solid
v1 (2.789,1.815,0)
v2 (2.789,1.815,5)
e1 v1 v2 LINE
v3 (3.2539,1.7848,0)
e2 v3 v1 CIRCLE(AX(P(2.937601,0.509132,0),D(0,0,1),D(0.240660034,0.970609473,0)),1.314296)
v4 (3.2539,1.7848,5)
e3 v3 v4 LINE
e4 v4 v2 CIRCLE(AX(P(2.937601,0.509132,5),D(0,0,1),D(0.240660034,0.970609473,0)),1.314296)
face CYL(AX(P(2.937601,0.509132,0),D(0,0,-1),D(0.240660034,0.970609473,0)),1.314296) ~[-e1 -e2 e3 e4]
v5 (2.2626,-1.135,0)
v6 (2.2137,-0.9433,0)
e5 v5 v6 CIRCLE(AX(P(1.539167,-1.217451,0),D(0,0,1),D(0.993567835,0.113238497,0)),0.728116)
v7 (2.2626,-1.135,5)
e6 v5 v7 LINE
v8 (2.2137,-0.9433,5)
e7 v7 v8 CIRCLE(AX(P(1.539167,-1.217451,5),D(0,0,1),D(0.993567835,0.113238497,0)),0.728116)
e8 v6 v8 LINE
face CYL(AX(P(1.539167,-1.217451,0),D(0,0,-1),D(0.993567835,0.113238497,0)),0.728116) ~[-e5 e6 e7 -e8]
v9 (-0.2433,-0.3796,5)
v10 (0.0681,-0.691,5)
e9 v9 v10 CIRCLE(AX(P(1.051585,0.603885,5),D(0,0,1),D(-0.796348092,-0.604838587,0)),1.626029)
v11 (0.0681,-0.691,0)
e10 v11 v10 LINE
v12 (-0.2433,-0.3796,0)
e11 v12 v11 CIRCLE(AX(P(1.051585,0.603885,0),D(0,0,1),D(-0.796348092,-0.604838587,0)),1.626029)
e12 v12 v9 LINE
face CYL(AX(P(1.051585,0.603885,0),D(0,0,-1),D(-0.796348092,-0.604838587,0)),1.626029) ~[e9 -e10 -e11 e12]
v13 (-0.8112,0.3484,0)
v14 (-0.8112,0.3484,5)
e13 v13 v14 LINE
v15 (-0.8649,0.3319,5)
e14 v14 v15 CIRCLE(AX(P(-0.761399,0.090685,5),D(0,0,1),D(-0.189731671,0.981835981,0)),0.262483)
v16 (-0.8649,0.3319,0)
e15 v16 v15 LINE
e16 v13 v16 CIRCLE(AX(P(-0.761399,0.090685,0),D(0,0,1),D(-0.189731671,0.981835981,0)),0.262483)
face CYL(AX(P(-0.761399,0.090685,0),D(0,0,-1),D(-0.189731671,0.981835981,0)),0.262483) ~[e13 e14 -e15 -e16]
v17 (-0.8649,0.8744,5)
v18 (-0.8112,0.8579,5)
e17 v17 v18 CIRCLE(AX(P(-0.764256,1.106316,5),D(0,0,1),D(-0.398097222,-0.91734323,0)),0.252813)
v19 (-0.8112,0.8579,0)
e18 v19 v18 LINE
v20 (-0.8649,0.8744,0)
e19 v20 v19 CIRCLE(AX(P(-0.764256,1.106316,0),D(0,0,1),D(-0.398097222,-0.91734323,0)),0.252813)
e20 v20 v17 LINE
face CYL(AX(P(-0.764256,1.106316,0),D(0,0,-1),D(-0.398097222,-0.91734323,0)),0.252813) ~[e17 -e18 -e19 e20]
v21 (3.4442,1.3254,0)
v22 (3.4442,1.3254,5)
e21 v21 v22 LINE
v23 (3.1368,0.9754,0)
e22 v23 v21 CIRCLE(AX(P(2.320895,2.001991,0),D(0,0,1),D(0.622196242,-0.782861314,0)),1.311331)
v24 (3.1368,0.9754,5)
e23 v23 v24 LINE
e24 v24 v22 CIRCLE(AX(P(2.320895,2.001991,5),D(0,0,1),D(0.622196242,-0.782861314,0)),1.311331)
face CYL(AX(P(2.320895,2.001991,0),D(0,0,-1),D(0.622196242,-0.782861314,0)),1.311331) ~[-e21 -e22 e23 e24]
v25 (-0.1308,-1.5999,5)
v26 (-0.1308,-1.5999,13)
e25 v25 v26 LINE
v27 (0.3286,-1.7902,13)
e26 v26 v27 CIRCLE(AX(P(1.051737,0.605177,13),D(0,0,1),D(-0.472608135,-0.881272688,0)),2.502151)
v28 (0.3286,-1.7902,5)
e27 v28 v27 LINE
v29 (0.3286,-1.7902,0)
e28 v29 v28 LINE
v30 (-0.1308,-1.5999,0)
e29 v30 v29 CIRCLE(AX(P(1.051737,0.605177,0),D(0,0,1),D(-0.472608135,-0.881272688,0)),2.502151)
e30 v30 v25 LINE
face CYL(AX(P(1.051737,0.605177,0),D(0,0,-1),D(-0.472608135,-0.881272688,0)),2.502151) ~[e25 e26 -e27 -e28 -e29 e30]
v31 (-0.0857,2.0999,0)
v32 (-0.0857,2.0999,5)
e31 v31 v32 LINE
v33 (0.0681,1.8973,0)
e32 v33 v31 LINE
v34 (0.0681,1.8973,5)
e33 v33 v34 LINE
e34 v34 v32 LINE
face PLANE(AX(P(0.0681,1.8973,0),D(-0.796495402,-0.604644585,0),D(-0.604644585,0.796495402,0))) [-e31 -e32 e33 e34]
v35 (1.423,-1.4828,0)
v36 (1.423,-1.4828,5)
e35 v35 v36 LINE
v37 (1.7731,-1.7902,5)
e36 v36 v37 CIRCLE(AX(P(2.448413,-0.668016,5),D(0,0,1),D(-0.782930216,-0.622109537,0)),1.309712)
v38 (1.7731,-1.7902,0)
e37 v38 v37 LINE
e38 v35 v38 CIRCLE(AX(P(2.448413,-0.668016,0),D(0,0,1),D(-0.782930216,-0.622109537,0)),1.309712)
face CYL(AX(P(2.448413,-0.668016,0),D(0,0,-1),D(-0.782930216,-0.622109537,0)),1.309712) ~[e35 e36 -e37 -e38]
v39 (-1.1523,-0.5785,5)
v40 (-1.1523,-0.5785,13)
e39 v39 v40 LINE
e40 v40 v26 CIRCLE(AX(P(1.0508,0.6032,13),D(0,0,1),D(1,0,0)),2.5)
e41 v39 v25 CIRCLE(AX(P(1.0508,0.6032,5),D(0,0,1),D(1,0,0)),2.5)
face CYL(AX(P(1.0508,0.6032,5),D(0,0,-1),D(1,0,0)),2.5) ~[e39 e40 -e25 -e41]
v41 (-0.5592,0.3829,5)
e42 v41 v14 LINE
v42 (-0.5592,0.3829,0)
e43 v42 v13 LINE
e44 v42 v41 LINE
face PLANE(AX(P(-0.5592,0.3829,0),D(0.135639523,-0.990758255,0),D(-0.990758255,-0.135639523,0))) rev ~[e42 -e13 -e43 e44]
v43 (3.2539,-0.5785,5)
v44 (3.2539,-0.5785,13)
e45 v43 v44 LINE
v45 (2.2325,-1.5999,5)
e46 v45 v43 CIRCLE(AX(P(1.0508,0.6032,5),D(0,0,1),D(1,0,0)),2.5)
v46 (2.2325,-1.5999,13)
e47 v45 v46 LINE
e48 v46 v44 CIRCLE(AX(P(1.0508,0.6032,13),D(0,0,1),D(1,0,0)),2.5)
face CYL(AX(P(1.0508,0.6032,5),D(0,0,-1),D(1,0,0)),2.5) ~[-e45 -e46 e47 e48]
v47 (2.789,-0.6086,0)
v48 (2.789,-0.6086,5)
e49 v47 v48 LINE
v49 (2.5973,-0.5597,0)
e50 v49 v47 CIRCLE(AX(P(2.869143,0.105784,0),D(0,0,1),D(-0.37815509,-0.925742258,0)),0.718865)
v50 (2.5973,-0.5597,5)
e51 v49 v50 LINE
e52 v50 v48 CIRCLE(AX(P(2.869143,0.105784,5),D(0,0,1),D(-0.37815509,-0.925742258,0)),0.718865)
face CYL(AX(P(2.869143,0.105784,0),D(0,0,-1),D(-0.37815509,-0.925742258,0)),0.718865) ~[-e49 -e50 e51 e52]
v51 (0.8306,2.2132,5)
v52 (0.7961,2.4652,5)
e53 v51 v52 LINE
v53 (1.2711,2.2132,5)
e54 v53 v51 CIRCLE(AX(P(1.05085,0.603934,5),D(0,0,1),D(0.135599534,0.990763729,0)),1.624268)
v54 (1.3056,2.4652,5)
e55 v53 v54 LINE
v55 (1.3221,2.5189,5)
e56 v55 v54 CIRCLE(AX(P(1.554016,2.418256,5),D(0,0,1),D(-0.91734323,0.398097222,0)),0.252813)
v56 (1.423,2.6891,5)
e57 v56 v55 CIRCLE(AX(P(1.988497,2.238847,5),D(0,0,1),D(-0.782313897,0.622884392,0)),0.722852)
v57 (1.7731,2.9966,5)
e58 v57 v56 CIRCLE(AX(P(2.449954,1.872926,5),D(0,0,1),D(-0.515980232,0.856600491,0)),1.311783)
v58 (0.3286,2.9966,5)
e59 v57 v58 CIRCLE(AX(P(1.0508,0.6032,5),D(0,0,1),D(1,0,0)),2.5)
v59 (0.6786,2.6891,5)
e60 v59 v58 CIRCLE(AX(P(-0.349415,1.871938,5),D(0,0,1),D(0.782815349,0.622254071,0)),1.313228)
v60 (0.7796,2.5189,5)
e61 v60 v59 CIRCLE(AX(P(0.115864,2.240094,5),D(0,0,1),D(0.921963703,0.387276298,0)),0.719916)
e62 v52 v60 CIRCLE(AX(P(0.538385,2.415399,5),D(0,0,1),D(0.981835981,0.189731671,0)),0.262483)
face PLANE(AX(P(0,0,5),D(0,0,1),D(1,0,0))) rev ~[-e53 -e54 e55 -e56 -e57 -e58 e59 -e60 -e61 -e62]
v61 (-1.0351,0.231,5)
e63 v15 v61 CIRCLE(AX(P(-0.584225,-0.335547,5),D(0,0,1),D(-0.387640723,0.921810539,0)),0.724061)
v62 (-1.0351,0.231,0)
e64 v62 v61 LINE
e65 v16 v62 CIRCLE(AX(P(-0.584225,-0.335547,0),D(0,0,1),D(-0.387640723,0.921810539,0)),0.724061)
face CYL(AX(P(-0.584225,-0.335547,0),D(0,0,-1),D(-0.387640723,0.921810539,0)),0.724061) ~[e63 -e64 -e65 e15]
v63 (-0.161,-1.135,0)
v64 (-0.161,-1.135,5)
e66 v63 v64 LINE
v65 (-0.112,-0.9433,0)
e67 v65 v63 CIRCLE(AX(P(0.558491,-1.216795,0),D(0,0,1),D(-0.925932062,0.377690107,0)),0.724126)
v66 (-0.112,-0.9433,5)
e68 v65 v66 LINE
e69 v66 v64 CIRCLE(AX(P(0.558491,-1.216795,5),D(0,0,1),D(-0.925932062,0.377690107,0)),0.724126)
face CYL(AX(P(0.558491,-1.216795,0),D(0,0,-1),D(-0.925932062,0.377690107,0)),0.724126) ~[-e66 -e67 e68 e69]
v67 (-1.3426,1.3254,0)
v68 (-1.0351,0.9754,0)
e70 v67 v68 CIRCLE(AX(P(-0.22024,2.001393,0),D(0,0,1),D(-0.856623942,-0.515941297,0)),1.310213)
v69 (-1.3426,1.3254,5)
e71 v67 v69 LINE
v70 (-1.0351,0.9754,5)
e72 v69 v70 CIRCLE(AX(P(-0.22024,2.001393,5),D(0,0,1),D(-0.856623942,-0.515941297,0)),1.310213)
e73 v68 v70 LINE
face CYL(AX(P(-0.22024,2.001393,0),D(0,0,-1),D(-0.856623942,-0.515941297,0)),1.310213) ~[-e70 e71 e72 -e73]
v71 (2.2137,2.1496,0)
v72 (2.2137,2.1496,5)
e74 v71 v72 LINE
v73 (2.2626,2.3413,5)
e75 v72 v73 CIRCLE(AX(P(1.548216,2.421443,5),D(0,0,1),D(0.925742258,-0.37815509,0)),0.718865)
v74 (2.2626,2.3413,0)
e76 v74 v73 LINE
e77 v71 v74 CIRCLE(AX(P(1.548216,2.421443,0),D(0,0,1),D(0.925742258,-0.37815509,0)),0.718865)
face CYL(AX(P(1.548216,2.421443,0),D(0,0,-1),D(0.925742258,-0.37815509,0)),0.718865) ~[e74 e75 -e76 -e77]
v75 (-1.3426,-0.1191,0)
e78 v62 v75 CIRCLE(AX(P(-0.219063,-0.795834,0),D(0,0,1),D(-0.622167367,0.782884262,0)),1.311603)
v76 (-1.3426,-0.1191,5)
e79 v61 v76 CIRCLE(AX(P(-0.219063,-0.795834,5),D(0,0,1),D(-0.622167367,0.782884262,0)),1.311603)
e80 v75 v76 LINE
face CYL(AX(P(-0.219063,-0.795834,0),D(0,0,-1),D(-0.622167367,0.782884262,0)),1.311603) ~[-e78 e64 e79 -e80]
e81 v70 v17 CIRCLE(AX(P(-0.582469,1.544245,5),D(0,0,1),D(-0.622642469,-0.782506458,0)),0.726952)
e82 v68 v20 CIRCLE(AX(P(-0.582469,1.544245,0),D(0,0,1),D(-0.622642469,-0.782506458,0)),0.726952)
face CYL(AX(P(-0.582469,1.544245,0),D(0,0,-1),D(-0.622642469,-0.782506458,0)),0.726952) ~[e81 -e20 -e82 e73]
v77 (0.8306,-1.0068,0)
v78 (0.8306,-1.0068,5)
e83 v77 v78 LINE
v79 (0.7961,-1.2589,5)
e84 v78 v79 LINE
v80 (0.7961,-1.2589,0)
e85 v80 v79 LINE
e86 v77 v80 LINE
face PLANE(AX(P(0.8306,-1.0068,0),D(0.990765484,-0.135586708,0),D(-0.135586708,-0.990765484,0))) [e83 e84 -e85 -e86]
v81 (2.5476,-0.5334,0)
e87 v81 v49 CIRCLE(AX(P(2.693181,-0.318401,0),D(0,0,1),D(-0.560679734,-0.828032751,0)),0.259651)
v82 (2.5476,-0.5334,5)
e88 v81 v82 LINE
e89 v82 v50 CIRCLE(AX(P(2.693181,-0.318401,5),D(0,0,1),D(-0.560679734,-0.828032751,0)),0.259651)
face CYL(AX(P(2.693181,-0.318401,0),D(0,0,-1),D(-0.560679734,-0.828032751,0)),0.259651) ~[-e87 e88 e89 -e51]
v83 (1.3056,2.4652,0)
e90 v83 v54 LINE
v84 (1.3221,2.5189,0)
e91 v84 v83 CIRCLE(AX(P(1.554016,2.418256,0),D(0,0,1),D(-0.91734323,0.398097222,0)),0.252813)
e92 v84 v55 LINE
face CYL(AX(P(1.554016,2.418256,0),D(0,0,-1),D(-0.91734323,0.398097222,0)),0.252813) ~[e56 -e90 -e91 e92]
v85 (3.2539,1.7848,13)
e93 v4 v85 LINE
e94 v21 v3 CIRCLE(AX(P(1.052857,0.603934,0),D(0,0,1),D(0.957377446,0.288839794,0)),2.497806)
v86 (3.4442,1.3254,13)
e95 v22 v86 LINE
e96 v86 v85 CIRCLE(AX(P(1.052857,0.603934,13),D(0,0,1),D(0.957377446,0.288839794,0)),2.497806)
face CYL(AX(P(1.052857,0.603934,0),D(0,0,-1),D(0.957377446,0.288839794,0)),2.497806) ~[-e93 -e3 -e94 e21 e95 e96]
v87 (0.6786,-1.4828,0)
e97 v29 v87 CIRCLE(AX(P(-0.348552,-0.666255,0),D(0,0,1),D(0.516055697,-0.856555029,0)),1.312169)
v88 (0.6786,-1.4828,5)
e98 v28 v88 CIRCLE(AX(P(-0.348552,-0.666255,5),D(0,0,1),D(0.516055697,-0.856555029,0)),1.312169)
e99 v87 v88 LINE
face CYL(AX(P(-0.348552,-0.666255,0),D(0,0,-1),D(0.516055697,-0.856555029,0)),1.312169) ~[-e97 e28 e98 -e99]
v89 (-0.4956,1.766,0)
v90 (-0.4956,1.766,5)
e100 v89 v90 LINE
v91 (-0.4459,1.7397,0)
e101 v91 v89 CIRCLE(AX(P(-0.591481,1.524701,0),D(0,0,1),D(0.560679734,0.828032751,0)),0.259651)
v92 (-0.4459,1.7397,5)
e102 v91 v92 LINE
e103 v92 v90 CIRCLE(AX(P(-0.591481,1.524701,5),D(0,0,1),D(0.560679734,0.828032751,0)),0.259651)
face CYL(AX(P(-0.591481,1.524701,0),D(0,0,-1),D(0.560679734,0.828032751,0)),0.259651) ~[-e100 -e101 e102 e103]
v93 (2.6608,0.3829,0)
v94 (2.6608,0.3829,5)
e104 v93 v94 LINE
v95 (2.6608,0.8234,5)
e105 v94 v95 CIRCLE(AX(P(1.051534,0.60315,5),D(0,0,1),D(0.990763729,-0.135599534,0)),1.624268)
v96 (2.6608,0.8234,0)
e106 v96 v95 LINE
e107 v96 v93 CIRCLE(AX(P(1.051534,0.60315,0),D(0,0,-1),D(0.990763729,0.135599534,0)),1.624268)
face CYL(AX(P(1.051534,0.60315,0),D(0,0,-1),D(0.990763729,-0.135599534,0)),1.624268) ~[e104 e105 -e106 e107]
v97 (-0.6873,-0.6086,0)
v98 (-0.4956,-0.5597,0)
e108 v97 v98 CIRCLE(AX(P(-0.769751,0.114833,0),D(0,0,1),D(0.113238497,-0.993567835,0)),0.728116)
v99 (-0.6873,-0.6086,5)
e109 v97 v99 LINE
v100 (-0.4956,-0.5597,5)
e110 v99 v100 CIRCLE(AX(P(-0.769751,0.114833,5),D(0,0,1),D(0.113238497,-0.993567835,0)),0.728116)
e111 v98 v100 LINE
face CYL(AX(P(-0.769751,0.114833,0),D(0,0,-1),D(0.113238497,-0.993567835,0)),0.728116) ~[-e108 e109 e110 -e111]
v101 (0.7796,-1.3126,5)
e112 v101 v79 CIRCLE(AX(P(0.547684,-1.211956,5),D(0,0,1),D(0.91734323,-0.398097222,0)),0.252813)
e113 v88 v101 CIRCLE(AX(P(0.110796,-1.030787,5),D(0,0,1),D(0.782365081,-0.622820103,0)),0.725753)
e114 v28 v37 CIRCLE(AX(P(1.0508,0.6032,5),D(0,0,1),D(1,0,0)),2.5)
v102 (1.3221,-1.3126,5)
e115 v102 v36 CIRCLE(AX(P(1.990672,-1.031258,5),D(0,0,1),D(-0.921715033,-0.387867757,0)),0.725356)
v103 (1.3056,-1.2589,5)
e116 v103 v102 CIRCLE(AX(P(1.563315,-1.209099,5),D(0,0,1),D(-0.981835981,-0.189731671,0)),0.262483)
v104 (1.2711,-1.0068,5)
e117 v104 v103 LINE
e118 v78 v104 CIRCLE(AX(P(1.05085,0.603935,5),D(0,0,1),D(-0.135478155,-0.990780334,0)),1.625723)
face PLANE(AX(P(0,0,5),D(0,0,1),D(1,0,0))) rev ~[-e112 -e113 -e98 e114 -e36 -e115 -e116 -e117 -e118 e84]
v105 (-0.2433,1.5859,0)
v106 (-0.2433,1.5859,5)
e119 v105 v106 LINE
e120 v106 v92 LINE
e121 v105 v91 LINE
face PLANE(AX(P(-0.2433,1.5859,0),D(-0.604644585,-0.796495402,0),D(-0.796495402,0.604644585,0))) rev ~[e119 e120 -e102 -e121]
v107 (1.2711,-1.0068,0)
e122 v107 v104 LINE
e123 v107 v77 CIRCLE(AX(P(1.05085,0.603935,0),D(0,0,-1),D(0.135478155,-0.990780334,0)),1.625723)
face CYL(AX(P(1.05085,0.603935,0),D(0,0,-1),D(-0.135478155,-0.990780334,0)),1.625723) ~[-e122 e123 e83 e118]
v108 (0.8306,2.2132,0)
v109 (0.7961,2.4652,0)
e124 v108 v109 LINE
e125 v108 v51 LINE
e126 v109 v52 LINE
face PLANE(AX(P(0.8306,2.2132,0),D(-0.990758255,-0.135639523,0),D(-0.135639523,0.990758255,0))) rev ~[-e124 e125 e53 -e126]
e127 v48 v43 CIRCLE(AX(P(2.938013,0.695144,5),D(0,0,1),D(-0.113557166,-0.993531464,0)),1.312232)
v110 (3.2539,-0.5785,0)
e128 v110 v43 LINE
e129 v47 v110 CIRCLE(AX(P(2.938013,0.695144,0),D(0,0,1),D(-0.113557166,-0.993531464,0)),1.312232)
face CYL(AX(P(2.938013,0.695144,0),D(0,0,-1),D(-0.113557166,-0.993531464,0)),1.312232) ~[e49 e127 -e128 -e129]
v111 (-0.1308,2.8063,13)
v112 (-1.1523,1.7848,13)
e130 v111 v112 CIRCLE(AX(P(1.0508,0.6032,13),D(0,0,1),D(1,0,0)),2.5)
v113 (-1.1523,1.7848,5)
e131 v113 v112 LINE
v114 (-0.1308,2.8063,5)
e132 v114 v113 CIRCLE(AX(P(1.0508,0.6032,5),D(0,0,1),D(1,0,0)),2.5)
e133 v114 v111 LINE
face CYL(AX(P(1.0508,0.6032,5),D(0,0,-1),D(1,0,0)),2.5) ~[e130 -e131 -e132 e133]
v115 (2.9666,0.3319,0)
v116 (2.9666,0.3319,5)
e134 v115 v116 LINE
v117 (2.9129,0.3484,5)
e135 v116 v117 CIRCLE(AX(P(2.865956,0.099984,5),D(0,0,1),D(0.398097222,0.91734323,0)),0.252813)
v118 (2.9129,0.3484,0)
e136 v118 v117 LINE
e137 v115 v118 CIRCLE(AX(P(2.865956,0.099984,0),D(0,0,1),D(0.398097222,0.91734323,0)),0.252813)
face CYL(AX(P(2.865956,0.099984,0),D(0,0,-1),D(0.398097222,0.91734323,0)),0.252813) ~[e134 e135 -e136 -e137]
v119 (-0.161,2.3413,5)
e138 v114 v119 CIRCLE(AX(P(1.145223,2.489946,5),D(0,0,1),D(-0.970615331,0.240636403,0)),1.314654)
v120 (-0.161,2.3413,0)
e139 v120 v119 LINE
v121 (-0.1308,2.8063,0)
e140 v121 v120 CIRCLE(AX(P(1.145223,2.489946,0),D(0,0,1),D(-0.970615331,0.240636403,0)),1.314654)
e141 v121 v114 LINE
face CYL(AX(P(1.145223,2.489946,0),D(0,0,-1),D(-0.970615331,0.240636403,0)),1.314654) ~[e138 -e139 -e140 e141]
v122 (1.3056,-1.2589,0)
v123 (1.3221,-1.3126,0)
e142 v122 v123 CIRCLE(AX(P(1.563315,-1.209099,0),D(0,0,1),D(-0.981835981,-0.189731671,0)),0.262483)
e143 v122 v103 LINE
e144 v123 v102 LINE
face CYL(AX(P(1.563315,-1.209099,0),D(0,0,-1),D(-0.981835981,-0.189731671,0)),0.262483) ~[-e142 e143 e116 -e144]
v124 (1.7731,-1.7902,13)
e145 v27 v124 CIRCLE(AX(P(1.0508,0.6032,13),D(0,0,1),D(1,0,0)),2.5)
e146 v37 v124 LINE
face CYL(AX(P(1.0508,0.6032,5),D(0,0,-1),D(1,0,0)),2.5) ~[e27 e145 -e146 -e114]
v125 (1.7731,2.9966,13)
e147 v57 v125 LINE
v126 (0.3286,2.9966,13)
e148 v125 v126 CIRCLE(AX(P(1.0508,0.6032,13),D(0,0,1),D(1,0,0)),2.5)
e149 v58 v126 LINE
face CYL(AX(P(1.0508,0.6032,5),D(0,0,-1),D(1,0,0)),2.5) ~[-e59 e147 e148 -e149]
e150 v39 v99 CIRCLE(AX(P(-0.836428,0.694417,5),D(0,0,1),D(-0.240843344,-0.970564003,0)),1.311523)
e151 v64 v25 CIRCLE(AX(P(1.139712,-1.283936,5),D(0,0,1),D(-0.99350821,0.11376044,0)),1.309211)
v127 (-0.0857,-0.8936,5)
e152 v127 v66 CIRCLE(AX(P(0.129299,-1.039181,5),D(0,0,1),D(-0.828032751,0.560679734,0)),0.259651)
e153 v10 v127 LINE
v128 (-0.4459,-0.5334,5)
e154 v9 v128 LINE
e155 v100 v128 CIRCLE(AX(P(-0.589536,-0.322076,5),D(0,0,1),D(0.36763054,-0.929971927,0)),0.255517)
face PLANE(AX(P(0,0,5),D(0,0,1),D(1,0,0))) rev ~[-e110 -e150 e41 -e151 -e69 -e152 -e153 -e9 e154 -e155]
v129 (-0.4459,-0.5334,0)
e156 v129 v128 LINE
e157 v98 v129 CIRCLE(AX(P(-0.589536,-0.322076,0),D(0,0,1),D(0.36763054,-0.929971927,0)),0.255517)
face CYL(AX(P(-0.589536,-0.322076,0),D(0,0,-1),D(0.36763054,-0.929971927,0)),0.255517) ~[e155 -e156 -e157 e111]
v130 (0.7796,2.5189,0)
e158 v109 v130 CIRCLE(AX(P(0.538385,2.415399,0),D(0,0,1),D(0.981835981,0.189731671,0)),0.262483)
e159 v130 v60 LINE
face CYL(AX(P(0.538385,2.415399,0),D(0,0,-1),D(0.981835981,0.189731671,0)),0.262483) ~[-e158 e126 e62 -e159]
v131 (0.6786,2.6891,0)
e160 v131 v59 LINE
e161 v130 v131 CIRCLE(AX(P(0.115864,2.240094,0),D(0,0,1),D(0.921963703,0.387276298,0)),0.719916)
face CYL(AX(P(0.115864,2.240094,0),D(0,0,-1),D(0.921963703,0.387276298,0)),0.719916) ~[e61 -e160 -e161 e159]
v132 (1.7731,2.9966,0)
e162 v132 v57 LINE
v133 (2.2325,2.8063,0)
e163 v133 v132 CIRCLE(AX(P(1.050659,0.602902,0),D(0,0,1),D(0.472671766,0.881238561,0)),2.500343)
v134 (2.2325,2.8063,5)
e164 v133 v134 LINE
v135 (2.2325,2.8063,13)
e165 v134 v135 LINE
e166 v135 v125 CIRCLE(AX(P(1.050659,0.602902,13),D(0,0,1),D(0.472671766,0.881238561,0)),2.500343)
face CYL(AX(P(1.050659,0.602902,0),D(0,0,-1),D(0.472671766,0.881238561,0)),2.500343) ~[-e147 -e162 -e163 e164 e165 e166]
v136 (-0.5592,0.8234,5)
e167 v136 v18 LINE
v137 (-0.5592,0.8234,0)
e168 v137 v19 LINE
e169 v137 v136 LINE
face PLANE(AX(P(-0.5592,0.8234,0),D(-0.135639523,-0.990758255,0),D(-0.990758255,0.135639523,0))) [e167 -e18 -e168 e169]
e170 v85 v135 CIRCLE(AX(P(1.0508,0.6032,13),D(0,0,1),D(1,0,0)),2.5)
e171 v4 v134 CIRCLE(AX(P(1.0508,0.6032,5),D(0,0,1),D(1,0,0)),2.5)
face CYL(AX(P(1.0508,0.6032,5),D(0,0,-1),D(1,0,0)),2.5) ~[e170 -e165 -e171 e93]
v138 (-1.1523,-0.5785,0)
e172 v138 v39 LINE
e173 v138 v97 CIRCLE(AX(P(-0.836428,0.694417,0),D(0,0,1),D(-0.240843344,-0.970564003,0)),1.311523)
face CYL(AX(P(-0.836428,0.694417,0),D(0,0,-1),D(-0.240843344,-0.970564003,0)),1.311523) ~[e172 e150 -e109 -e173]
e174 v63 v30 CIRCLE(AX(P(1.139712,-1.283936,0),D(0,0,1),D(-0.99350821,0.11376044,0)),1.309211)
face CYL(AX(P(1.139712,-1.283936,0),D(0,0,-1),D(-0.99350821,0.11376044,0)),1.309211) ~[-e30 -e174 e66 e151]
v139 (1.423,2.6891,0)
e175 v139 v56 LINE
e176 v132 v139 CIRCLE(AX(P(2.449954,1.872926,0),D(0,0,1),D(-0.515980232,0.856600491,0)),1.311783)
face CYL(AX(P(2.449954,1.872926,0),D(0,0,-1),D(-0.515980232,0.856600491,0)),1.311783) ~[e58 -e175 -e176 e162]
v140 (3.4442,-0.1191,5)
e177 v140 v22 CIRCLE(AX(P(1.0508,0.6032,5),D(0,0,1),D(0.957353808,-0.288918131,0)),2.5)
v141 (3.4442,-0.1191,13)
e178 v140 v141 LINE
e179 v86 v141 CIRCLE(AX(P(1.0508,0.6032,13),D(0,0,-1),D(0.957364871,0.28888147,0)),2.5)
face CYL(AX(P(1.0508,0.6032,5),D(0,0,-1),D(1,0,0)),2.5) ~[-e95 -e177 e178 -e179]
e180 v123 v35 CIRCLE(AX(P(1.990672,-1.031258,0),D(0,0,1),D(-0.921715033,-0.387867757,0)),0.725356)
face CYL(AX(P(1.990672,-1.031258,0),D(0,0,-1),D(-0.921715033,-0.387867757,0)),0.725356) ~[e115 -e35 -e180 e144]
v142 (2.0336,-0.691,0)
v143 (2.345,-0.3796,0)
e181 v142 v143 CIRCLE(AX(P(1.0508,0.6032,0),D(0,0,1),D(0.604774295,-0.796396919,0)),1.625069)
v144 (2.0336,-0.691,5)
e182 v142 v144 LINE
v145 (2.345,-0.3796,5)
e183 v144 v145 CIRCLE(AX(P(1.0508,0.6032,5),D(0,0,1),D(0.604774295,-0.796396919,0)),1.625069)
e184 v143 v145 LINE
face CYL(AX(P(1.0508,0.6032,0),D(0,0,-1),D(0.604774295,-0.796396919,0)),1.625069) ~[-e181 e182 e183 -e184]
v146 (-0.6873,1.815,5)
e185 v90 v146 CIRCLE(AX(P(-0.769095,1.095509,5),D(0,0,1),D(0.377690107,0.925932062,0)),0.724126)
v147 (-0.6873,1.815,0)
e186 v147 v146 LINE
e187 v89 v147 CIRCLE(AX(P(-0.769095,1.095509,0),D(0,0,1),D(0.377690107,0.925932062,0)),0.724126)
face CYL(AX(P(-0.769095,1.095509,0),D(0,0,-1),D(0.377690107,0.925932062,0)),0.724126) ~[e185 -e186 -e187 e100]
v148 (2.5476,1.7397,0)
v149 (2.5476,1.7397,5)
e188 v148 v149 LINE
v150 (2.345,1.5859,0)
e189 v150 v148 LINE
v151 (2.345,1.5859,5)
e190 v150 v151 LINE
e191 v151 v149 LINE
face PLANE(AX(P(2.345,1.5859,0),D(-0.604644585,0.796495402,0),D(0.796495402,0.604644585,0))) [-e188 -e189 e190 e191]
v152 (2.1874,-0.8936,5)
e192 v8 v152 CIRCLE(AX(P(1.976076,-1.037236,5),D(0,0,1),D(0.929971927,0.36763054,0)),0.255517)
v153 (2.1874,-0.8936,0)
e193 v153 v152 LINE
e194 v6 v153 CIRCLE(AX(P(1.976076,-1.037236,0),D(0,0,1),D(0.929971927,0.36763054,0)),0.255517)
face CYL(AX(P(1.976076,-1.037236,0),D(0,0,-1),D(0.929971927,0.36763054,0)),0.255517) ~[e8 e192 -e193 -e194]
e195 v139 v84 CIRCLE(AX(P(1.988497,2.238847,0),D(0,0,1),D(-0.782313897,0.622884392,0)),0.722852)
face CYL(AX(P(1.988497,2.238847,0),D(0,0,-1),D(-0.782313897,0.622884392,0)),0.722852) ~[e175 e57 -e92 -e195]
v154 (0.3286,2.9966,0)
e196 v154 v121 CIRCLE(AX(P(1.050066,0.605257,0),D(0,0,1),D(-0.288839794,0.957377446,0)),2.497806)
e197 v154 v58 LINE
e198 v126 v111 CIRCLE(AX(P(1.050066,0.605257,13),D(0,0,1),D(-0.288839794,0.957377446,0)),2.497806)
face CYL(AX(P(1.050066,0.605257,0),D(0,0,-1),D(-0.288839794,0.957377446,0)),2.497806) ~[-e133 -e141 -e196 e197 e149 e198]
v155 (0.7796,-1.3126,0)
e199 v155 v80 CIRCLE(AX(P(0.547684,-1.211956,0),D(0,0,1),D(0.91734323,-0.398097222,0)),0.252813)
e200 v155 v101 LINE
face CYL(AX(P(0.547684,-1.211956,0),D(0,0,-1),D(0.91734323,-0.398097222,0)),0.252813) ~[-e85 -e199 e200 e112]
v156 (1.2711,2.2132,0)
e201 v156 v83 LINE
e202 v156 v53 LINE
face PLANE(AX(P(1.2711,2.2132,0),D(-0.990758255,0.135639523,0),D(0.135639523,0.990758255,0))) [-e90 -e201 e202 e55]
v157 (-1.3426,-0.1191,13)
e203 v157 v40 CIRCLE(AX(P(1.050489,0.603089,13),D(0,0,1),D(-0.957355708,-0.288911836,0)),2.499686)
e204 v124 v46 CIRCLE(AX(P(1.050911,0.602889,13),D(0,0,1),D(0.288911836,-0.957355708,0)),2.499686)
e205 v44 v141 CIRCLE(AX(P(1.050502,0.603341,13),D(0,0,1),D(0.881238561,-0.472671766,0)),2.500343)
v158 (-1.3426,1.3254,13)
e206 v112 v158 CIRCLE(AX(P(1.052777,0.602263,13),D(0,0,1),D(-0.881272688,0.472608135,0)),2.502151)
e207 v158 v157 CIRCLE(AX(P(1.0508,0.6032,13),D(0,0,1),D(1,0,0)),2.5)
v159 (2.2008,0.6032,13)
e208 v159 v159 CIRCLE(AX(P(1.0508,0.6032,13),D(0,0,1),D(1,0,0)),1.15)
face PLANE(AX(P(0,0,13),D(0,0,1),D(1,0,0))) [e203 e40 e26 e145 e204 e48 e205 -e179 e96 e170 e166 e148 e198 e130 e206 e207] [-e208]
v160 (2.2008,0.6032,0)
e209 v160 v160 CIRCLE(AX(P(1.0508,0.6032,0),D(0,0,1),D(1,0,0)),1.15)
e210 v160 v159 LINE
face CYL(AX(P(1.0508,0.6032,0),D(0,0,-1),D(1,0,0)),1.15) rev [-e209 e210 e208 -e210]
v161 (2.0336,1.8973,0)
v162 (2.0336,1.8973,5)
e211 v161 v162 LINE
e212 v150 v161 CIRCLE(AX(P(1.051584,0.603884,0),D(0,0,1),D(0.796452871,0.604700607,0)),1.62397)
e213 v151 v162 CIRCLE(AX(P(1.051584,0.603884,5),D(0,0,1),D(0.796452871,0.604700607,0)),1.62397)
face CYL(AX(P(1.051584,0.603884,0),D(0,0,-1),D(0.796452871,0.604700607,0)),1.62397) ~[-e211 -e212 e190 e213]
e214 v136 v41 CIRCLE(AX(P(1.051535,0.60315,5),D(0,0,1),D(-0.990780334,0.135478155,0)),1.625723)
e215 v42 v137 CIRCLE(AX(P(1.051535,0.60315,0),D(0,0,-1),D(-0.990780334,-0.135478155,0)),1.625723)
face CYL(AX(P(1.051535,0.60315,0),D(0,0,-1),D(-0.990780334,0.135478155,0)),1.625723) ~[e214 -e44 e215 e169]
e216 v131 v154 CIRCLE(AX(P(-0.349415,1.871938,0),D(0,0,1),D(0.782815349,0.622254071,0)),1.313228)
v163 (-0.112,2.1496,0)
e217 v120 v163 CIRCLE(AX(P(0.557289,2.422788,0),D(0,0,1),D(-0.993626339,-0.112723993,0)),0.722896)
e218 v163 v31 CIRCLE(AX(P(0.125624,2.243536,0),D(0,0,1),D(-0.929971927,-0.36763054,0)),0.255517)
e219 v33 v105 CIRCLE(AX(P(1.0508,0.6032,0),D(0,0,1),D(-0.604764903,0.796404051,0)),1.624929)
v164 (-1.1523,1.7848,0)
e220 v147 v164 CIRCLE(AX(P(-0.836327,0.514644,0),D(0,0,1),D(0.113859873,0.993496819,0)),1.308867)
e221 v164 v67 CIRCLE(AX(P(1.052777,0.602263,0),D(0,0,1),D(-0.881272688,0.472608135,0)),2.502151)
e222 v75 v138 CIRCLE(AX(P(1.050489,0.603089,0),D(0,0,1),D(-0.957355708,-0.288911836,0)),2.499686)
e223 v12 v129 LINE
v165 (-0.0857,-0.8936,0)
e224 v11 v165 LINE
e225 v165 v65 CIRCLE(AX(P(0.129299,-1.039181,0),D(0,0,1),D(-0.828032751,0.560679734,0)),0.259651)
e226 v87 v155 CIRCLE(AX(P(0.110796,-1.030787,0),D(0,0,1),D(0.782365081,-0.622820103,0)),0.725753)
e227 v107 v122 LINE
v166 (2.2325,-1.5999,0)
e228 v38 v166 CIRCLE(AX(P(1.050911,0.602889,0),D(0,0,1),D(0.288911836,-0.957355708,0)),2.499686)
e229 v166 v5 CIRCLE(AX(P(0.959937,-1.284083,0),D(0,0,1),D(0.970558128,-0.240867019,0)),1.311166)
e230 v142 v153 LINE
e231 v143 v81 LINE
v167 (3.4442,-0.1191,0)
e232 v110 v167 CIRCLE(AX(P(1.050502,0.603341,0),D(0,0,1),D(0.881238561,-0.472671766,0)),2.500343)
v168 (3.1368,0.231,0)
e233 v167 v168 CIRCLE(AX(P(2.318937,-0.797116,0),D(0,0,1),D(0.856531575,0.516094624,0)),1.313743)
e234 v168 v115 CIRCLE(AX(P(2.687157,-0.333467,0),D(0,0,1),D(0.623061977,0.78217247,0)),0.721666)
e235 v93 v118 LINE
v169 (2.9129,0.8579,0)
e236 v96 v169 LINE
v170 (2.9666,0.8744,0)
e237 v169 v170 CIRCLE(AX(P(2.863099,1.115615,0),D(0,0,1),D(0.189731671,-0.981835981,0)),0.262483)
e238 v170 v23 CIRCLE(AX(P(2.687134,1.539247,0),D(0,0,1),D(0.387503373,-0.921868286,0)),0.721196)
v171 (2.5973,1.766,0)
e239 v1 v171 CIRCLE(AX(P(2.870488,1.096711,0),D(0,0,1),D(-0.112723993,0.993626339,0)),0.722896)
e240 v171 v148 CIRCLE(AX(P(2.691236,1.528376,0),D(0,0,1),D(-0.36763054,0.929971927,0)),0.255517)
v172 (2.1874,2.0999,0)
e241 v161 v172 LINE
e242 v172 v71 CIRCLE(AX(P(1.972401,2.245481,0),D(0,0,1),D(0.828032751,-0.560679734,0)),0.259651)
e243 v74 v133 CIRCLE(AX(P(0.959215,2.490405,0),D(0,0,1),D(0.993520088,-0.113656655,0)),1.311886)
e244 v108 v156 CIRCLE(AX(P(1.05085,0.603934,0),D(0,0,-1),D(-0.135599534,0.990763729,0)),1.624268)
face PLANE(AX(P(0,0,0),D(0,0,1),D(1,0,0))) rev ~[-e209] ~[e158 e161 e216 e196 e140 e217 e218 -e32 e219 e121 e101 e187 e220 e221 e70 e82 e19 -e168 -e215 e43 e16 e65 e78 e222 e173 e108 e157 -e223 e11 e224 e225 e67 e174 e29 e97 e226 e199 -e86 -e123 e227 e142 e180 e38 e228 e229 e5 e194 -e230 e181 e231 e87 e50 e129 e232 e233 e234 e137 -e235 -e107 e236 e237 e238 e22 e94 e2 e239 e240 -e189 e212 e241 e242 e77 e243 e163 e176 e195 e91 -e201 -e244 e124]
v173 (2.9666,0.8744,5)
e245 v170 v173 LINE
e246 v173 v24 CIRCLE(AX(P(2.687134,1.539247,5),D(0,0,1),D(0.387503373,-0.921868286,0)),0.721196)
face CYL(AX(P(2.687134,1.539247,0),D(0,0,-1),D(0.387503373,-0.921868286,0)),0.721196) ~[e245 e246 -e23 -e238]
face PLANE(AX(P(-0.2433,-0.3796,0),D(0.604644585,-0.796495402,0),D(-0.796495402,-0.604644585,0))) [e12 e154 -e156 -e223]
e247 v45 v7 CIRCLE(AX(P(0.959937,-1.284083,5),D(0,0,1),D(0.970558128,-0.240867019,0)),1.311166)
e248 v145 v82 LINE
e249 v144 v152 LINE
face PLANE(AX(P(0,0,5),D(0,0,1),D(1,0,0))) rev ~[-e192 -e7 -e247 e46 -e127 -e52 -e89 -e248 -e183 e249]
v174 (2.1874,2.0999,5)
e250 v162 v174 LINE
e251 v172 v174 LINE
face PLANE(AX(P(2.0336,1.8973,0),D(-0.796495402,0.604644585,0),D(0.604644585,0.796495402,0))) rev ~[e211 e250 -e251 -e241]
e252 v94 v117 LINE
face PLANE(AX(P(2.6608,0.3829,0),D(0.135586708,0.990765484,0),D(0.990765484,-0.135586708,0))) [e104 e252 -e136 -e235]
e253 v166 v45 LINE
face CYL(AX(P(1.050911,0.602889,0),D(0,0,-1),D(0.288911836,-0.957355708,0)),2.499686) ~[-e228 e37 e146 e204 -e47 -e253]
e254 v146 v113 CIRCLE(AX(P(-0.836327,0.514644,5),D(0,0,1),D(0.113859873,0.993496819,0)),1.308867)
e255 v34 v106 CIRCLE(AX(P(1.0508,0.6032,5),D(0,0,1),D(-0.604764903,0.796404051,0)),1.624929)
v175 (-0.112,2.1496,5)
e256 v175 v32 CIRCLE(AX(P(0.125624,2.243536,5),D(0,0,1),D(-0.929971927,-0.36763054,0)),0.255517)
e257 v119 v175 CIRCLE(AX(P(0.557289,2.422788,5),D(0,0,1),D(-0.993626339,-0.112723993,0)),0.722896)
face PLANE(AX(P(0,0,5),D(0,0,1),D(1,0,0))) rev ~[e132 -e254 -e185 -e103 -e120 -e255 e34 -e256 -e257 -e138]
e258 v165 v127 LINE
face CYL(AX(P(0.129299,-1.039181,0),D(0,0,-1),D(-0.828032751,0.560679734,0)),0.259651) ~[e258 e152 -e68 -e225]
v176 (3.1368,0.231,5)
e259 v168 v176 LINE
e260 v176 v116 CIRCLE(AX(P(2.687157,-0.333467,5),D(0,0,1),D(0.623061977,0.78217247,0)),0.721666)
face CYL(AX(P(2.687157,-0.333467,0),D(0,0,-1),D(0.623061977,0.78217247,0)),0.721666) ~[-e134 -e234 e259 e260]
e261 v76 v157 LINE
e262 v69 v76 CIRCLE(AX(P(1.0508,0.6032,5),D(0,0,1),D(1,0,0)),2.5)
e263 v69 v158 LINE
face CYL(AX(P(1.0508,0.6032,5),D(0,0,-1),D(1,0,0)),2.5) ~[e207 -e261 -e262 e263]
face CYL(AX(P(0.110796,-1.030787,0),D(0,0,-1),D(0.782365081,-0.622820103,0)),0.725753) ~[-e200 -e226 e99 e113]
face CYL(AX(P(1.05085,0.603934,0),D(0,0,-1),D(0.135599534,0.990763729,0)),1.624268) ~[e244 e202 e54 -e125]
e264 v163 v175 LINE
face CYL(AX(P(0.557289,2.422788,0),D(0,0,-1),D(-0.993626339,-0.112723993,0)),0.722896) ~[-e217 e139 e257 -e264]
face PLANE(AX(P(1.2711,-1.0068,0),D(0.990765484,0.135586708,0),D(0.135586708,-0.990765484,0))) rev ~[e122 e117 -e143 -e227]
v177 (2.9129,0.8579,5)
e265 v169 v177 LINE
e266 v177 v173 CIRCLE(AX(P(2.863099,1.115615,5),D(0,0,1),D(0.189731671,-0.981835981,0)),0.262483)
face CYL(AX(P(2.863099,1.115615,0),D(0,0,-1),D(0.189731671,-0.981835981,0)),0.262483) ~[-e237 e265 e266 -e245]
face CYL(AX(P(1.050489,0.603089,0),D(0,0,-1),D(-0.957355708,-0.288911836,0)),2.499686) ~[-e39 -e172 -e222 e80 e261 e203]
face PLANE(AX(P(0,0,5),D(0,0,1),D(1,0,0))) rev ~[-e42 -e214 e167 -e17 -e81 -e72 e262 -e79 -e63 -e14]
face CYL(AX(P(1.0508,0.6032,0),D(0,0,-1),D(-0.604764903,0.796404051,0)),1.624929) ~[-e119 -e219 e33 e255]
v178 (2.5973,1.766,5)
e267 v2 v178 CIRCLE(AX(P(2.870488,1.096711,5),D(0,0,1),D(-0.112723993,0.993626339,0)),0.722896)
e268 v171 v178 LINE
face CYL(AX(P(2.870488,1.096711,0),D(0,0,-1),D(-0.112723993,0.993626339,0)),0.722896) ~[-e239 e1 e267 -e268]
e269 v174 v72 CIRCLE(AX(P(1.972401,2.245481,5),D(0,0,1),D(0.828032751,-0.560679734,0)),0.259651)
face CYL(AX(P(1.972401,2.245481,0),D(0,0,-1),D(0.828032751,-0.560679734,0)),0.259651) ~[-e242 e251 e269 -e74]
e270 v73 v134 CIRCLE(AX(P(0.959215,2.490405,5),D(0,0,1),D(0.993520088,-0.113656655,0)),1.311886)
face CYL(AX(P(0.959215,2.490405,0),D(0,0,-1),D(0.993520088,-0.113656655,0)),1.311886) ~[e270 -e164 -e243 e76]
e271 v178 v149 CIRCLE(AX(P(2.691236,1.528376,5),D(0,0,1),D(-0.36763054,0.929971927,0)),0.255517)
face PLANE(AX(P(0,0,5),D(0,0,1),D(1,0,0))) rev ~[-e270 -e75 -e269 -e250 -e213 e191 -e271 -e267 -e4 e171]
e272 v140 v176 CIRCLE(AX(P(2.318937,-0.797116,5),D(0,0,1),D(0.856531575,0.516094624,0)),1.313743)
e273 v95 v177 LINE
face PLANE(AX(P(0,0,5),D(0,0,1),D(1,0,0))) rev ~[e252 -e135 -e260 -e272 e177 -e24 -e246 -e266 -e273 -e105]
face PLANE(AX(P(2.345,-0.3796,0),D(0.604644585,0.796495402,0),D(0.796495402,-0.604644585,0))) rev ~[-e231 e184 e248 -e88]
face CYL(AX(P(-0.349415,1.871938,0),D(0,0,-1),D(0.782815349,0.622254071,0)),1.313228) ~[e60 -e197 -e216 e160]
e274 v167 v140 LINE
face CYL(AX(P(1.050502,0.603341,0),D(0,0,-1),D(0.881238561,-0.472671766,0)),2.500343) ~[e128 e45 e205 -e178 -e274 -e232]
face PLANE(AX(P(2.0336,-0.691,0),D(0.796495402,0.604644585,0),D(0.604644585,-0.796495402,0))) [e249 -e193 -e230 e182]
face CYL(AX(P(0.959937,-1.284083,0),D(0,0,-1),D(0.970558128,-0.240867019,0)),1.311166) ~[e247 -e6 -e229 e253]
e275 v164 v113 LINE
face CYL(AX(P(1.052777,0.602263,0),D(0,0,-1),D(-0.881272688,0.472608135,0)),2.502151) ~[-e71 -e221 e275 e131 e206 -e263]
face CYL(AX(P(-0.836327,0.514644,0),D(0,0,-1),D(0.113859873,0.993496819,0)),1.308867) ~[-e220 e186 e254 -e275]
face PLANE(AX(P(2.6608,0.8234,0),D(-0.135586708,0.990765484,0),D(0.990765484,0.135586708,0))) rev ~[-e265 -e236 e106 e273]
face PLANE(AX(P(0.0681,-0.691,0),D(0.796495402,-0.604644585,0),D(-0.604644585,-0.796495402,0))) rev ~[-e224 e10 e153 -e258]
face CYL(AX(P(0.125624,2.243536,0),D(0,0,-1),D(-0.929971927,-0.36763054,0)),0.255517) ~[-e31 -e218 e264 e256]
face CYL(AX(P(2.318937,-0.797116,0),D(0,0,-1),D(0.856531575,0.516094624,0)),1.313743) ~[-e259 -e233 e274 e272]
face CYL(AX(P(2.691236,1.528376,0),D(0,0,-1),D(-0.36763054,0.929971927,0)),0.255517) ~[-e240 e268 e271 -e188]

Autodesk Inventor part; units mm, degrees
ref_plane "YZ Plane" through (0, 0, 0) normal (1, 0, 0) x (0, 1, 0)
ref_plane "XZ Plane" through (0, 0, 0) normal (0, 1, 0) x (-1, 0, 0)
ref_plane "XY Plane" through (0, 0, 0) normal (0, 0, 1) x (1, 0, 0)
sketch "スケッチ1" plane through (0, 0, 0) normal (0, 0, 1) x (1, 0, 0)
  arc A0 (1.3221, 2.5189) -> (1.3056, 2.4652) centre (1.5585, 2.4166) ccw
  arc A1 (1.423, 2.6891) -> (1.3221, 2.5189) centre (1.989, 2.2385) ccw
  arc A2 (1.7731, 2.9966) -> (1.423, 2.6891) centre (2.4499, 1.873) ccw
  arc A3 (-0.112, 2.1496) -> (-0.0857, 2.0999) centre (0.1275, 2.2444) ccw
  arc A4 (-0.161, 2.3413) -> (-0.112, 2.1496) centre (0.5579, 2.4229) ccw
  arc A5 (-0.1308, 2.8063) -> (-0.161, 2.3413) centre (1.1423, 2.4904) ccw
  arc A6 (-0.8649, 0.8744) -> (-0.8112, 0.8579) centre (-0.7626, 1.1108) ccw
  arc A7 (-1.0351, 0.9754) -> (-0.8649, 0.8744) centre (-0.5845, 1.5413) ccw
  arc A8 (-1.3426, 1.3254) -> (-1.0351, 0.9754) centre (-0.219, 2.0023) ccw
  arc A9 (-0.4956, -0.5597) -> (-0.4459, -0.5334) centre (-0.5904, -0.3202) ccw
  arc A10 (-0.6873, -0.6086) -> (-0.4956, -0.5597) centre (-0.7689, 0.1102) ccw
  arc A11 (-1.1523, -0.5785) -> (-0.6873, -0.6086) centre (-0.8364, 0.6946) ccw
  arc A12 (0.7796, -1.3126) -> (0.7961, -1.2589) centre (0.5432, -1.2103) ccw
  arc A13 (0.6786, -1.4828) -> (0.7796, -1.3126) centre (0.1127, -1.0321) ccw
  arc A14 (0.3286, -1.7902) -> (0.6786, -1.4828) centre (-0.3483, -0.6666) ccw
  arc A15 (2.2137, -0.9433) -> (2.1874, -0.8936) centre (1.9742, -1.0381) ccw
  arc A16 (2.2626, -1.135) -> (2.2137, -0.9433) centre (1.5438, -1.2166) ccw
  arc A17 (2.2325, -1.5999) -> (2.2626, -1.135) centre (0.9594, -1.284) ccw
  arc A18 (2.9666, 0.3319) -> (2.9129, 0.3484) centre (2.8643, 0.0955) ccw
  arc A19 (3.1368, 0.231) -> (2.9666, 0.3319) centre (2.6861, -0.335) ccw
  arc A20 (3.4442, -0.1191) -> (3.1368, 0.231) centre (2.3206, -0.7959) ccw
  arc A21 (2.5973, 1.766) -> (2.5476, 1.7397) centre (2.6921, 1.5265) ccw
  arc A22 (2.789, 1.815) -> (2.5973, 1.766) centre (2.8706, 1.0961) ccw
  arc A23 (3.2539, 1.7848) -> (2.789, 1.815) centre (2.938, 0.5117) ccw
  arc A24 (0.7961, 2.4652) -> (0.7796, 2.5189) centre (0.5432, 2.4166) ccw
  arc A25 (0.7796, 2.5189) -> (0.6786, 2.6891) centre (0.1127, 2.2385) ccw
  arc A26 (0.6786, 2.6891) -> (0.3286, 2.9966) centre (-0.3483, 1.873) ccw
  arc A27 (-0.4459, 1.7397) -> (-0.4956, 1.766) centre (-0.5904, 1.5265) ccw
  arc A28 (-0.4956, 1.766) -> (-0.6873, 1.815) centre (-0.7689, 1.0961) ccw
  arc A29 (-0.6873, 1.815) -> (-1.1523, 1.7848) centre (-0.8364, 0.5117) ccw
  arc A30 (-0.8112, 0.3484) -> (-0.8649, 0.3319) centre (-0.7626, 0.0955) ccw
  arc A31 (-0.8649, 0.3319) -> (-1.0351, 0.231) centre (-0.5845, -0.335) ccw
  arc A32 (-1.0351, 0.231) -> (-1.3426, -0.1191) centre (-0.219, -0.7959) ccw
  arc A33 (-0.0857, -0.8936) -> (-0.112, -0.9433) centre (0.1275, -1.0381) ccw
  arc A34 (-0.112, -0.9433) -> (-0.161, -1.135) centre (0.5579, -1.2166) ccw
  arc A35 (-0.161, -1.135) -> (-0.1308, -1.5999) centre (1.1423, -1.284) ccw
  arc A36 (1.3056, -1.2589) -> (1.3221, -1.3126) centre (1.5585, -1.2103) ccw
  arc A37 (1.3221, -1.3126) -> (1.423, -1.4828) centre (1.989, -1.0321) ccw
  arc A38 (1.423, -1.4828) -> (1.7731, -1.7902) centre (2.4499, -0.6666) ccw
  arc A39 (2.5476, -0.5334) -> (2.5973, -0.5597) centre (2.6921, -0.3202) ccw
  arc A40 (2.5973, -0.5597) -> (2.789, -0.6086) centre (2.8706, 0.1102) ccw
  arc A41 (2.789, -0.6086) -> (3.2539, -0.5785) centre (2.938, 0.6946) ccw
  arc A42 (2.9129, 0.8579) -> (2.9666, 0.8744) centre (2.8643, 1.1108) ccw
  arc A43 (2.9666, 0.8744) -> (3.1368, 0.9754) centre (2.6861, 1.5413) ccw
  arc A44 (3.1368, 0.9754) -> (3.4442, 1.3254) centre (2.3206, 2.0023) ccw
  arc A45 (2.1874, 2.0999) -> (2.2137, 2.1496) centre (1.9742, 2.2444) ccw
  arc A46 (2.2137, 2.1496) -> (2.2626, 2.3413) centre (1.5438, 2.4229) ccw
  arc A47 (2.2626, 2.3413) -> (2.2325, 2.8063) centre (0.9594, 2.4904) ccw
  arc A48 (1.2711, 2.2132) -> (0.8306, 2.2132) centre (1.0508, 0.6032) ccw
  arc A49 (0.0681, 1.8973) -> (-0.2433, 1.5859) centre (1.0508, 0.6032) ccw
  arc A50 (-0.5592, 0.8234) -> (-0.5592, 0.3829) centre (1.0508, 0.6032) ccw
  arc A51 (-0.2433, -0.3796) -> (0.0681, -0.691) centre (1.0508, 0.6032) ccw
  arc A52 (0.8306, -1.0068) -> (1.2711, -1.0068) centre (1.0508, 0.6032) ccw
  arc A53 (2.0336, -0.691) -> (2.345, -0.3796) centre (1.0508, 0.6032) ccw
  arc A54 (2.6608, 0.3829) -> (2.6608, 0.8234) centre (1.0508, 0.6032) ccw
  arc A55 (2.345, 1.5859) -> (2.0336, 1.8973) centre (1.0508, 0.6032) ccw
  arc A56 (0.3286, 2.9966) -> (-0.1308, 2.8063) centre (1.0508, 0.6032) ccw
  arc A57 (-1.1523, 1.7848) -> (-1.3426, 1.3254) centre (1.0508, 0.6032) ccw
  arc A58 (-1.3426, -0.1191) -> (-1.1523, -0.5785) centre (1.0508, 0.6032) ccw
  arc A59 (-0.1308, -1.5999) -> (0.3286, -1.7902) centre (1.0508, 0.6032) ccw
  arc A60 (1.7731, -1.7902) -> (2.2325, -1.5999) centre (1.0508, 0.6032) ccw
  arc A61 (3.2539, -0.5785) -> (3.4442, -0.1191) centre (1.0508, 0.6032) ccw
  arc A62 (3.4442, 1.3254) -> (3.2539, 1.7848) centre (1.0508, 0.6032) ccw
  arc A63 (2.2325, 2.8063) -> (1.7731, 2.9966) centre (1.0508, 0.6032) ccw
  line L0 (1.2711, 2.2132) -> (1.3056, 2.4652)
  line L1 (0.0681, 1.8973) -> (-0.0857, 2.0999)
  line L2 (-0.5592, 0.8234) -> (-0.8112, 0.8579)
  line L3 (-0.2433, -0.3796) -> (-0.4459, -0.5334)
  line L4 (0.8306, -1.0068) -> (0.7961, -1.2589)
  line L5 (2.0336, -0.691) -> (2.1874, -0.8936)
  line L6 (2.6608, 0.3829) -> (2.9129, 0.3484)
  line L7 (2.345, 1.5859) -> (2.5476, 1.7397)
  line L8 (0.8306, 2.2132) -> (0.7961, 2.4652)
  line L9 (-0.2433, 1.5859) -> (-0.4459, 1.7397)
  line L10 (-0.5592, 0.3829) -> (-0.8112, 0.3484)
  line L11 (0.0681, -0.691) -> (-0.0857, -0.8936)
  line L12 (1.2711, -1.0068) -> (1.3056, -1.2589)
  line L13 (2.345, -0.3796) -> (2.5476, -0.5334)
  line L14 (2.6608, 0.8234) -> (2.9129, 0.8579)
  line L15 (2.0336, 1.8973) -> (2.1874, 2.0999)
  line L16 (-3.4492, 0.6032) -> (5.5508, 0.6032)
  line L17 (1.0508, -3.8968) -> (1.0508, 5.1032)
  circle A64 centre (1.0508, 0.6032) radius 1.15
  point P0 (0, 0)
  point P1 (-0.8112, 0.8579)
  point P2 (-0.5592, 0.8234)
  point P3 (-0.5592, 0.3829)
  point P4 (-0.8611, 0.3335)
  point P5 (-1.034, 0.2319)
  point P6 (-1.3426, -0.1191)
  point P7 (-1.1523, -0.5785)
  point P8 (-0.6859, -0.6085)
  point P9 (-0.4918, -0.5581)
  point P10 (-0.1104, -0.9395)
  point P11 (-0.1608, -1.1336)
  point P12 (-0.1308, -1.5999)
  point P13 (0.3286, -1.7902)
  point P14 (0.6795, -1.4816)
  point P15 (0.7812, -1.3088)
  point P16 (0.7961, -1.2589)
  point P17 (0.8306, -1.0068)
  point P18 (1.2711, -1.0068)
  point P19 (1.3205, -1.3088)
  point P20 (1.4221, -1.4816)
  point P21 (1.7731, -1.7902)
  point P22 (2.2325, -1.5999)
  point P23 (2.2625, -1.1336)
  point P24 (2.2121, -0.9395)
  point P25 (2.5935, -0.5581)
  point P26 (2.7876, -0.6085)
  point P27 (3.2539, -0.5785)
  point P28 (3.1356, 0.2319)
  point P29 (2.9628, 0.3335)
  point P30 (2.9129, 0.3484)
  point P31 (2.6608, 0.3829)
  point P32 (2.6608, 0.8234)
  point P33 (2.9628, 0.8728)
  point P34 (3.1356, 0.9745)
  point P35 (3.4442, 1.3254)
  point P36 (3.2539, 1.7848)
  point P37 (2.7876, 1.8148)
  point P38 (2.5935, 1.7644)
  point P39 (2.2121, 2.1458)
  point P40 (2.2625, 2.3399)
  point P41 (2.2325, 2.8063)
  point P42 (1.7731, 2.9966)
  point P43 (1.4221, 2.688)
  point P44 (1.3205, 2.5151)
  point P45 (1.3056, 2.4652)
  point P46 (0.8306, 2.2132)
  point P47 (0.7812, 2.5151)
  point P48 (0.6795, 2.688)
  point P49 (0.3286, 2.9966)
  point P50 (-0.1308, 2.8063)
  point P51 (-0.1608, 2.3399)
  point P52 (-0.1104, 2.1458)
  point P53 (-0.4918, 1.7644)
  point P54 (-0.6859, 1.8148)
  point P55 (-1.1523, 1.7848)
  point P56 (-1.3426, 1.3254)
  point P57 (-1.034, 0.9745)
  point P58 (-0.8611, 0.8728)
  point P59 (1.3205, -1.3088)
  point P60 (1.4221, -1.4816)
  point P61 (2.2625, -1.1336)
  point P62 (2.2137, -0.9433)
  point P63 (2.5935, -0.5581)
  point P64 (2.7876, -0.6085)
  point P65 (3.1356, 0.2319)
  point P66 (2.9628, 0.8728)
  point P67 (3.1356, 0.9745)
  point P68 (2.789, 1.815)
  point P69 (2.5935, 1.7644)
  point P70 (2.2137, 2.1496)
  point P71 (2.2626, 2.3413)
  point P72 (1.423, 2.6891)
  point P73 (1.3221, 2.5189)
  point P74 (0.7796, 2.5189)
  point P75 (0.6795, 2.688)
  point P76 (-0.1608, 2.3399)
  point P77 (-0.1104, 2.1458)
  point P78 (-0.4956, 1.766)
  point P79 (-0.6859, 1.8148)
  point P80 (-1.0351, 0.9754)
  point P81 (-0.8611, 0.8728)
  point P82 (-0.8649, 0.3319)
  point P83 (-1.0351, 0.231)
  point P84 (-0.6873, -0.6086)
  point P85 (-0.4918, -0.5581)
  point P86 (-0.1104, -0.9395)
  point P87 (-0.1608, -1.1336)
  point P88 (0.6786, -1.4828)
  point P89 (0.7812, -1.3088)
  dimension "d2" = 2.3
extrude "押し出し1" add sketch "スケッチ1" along normal blind 5 contours A1 A2 A63 A47 A46 A45 L15 A55 L7 A21 A22 A23 A62 A44 A43 A42 L14 A54 L16 A64 L17 A48 L0 A0 | L17 A64 L16 A50 L2 A6 A7 A8 A57 A29 A28 A27 L9 A49 L1 A3 A4 A5 A56 A26 A25 A24 L8 A48 | L16 A54 L6 A18 A19 A20 A61 A41 A40 A39 L13 A53 L5 A15 A16 A17 A60 A38 A37 A36 L12 A52 L17 A64 | A64 L17 A52 L4 A12 A13 A14 A59 A35 A34 A33 L11 A51 L3 A9 A10 A11 A58 A32 A31 A30 L10 A50 L16
sketch "スケッチ2" plane through (0, 0, 5) normal (0, 0, 1) x (1, 0, 0)
  arc A0 (3.2539, 1.7848) -> (2.789, 1.815) centre (2.938, 0.5117) ccw projected
  arc A1 (2.789, 1.815) -> (2.5973, 1.766) centre (2.8706, 1.0961) ccw projected
  arc A2 (2.5973, 1.766) -> (2.5476, 1.7397) centre (2.6921, 1.5265) ccw projected
  line L0 (2.5476, 1.7397) -> (2.345, 1.5859) projected
  arc A3 (2.345, 1.5859) -> (2.0336, 1.8973) centre (1.0508, 0.6032) ccw projected
  line L1 (2.0336, 1.8973) -> (2.1874, 2.0999) projected
  arc A4 (2.1874, 2.0999) -> (2.2137, 2.1496) centre (1.9742, 2.2444) ccw projected
  arc A5 (2.2137, 2.1496) -> (2.2626, 2.3413) centre (1.5438, 2.4229) ccw projected
  arc A6 (2.2626, 2.3413) -> (2.2325, 2.8063) centre (0.9594, 2.4904) ccw projected
  arc A7 (2.2325, 2.8063) -> (1.7731, 2.9966) centre (1.0508, 0.6032) ccw projected
  arc A8 (1.7731, 2.9966) -> (1.423, 2.6891) centre (2.4499, 1.873) ccw projected
  arc A9 (1.423, 2.6891) -> (1.3221, 2.5189) centre (1.989, 2.2385) ccw projected
  arc A10 (1.3221, 2.5189) -> (1.3056, 2.4652) centre (1.5585, 2.4166) ccw projected
  line L2 (1.3056, 2.4652) -> (1.2711, 2.2132) projected
  arc A11 (1.2711, 2.2132) -> (0.8306, 2.2132) centre (1.0508, 0.6032) ccw projected
  line L3 (0.8306, 2.2132) -> (0.7961, 2.4652) projected
  arc A12 (0.7961, 2.4652) -> (0.7796, 2.5189) centre (0.5432, 2.4166) ccw projected
  arc A13 (0.7796, 2.5189) -> (0.6795, 2.688) centre (0.1127, 2.2385) ccw projected
  arc A14 (0.6795, 2.688) -> (0.3286, 2.9966) centre (-0.3483, 1.873) ccw projected
  arc A15 (0.3286, 2.9966) -> (-0.1308, 2.8063) centre (1.0508, 0.6032) ccw projected
  arc A16 (-0.1308, 2.8063) -> (-0.161, 2.3413) centre (1.1423, 2.4904) ccw projected
  arc A17 (-0.161, 2.3413) -> (-0.112, 2.1496) centre (0.5579, 2.4229) ccw projected
  arc A18 (-0.112, 2.1496) -> (-0.0857, 2.0999) centre (0.1275, 2.2444) ccw projected
  line L4 (-0.0857, 2.0999) -> (0.0681, 1.8973) projected
  arc A19 (0.0681, 1.8973) -> (-0.2433, 1.5859) centre (1.0508, 0.6032) ccw projected
  line L5 (-0.2433, 1.5859) -> (-0.4459, 1.7397) projected
  arc A20 (-0.4459, 1.7397) -> (-0.4956, 1.766) centre (-0.5904, 1.5265) ccw projected
  arc A21 (-0.4956, 1.766) -> (-0.6859, 1.8148) centre (-0.7689, 1.0961) ccw projected
  arc A22 (-0.6859, 1.8148) -> (-1.1523, 1.7848) centre (-0.8364, 0.5117) ccw projected
  arc A23 (-1.1523, 1.7848) -> (-1.3426, 1.3254) centre (1.0508, 0.6032) ccw projected
  arc A24 (-1.3426, 1.3254) -> (-1.0351, 0.9754) centre (-0.219, 2.0023) ccw projected
  arc A25 (-1.0351, 0.9754) -> (-0.8649, 0.8744) centre (-0.5845, 1.5413) ccw projected
  arc A26 (-0.8649, 0.8744) -> (-0.8112, 0.8579) centre (-0.7626, 1.1108) ccw projected
  line L6 (-0.8112, 0.8579) -> (-0.5592, 0.8234) projected
  arc A27 (-0.5592, 0.8234) -> (-0.5592, 0.3829) centre (1.0508, 0.6032) ccw projected
  line L7 (-0.5592, 0.3829) -> (-0.8112, 0.3484) projected
  arc A28 (-0.8112, 0.3484) -> (-0.8649, 0.3319) centre (-0.7626, 0.0955) ccw projected
  arc A29 (-0.8649, 0.3319) -> (-1.0351, 0.231) centre (-0.5845, -0.335) ccw projected
  arc A30 (-1.0351, 0.231) -> (-1.3426, -0.1191) centre (-0.219, -0.7959) ccw projected
  arc A31 (-1.3426, -0.1191) -> (-1.1523, -0.5785) centre (1.0508, 0.6032) ccw projected
  arc A32 (-1.1523, -0.5785) -> (-0.6873, -0.6086) centre (-0.8364, 0.6946) ccw projected
  arc A33 (-0.6873, -0.6086) -> (-0.4956, -0.5597) centre (-0.7689, 0.1102) ccw projected
  arc A34 (-0.4956, -0.5597) -> (-0.4459, -0.5334) centre (-0.5904, -0.3202) ccw projected
  line L8 (-0.4459, -0.5334) -> (-0.2433, -0.3796) projected
  arc A35 (-0.2433, -0.3796) -> (0.0681, -0.691) centre (1.0508, 0.6032) ccw projected
  line L9 (0.0681, -0.691) -> (-0.0857, -0.8936) projected
  arc A36 (-0.0857, -0.8936) -> (-0.1104, -0.9395) centre (0.1275, -1.0381) ccw projected
  arc A37 (-0.1104, -0.9395) -> (-0.1608, -1.1336) centre (0.5579, -1.2166) ccw projected
  arc A38 (-0.1608, -1.1336) -> (-0.1308, -1.5999) centre (1.1423, -1.284) ccw projected
  arc A39 (-0.1308, -1.5999) -> (0.3286, -1.7902) centre (1.0508, 0.6032) ccw projected
  arc A40 (0.3286, -1.7902) -> (0.6786, -1.4828) centre (-0.3483, -0.6666) ccw projected
  arc A41 (0.6786, -1.4828) -> (0.7796, -1.3126) centre (0.1127, -1.0321) ccw projected
  arc A42 (0.7796, -1.3126) -> (0.7961, -1.2589) centre (0.5432, -1.2103) ccw projected
  line L10 (0.7961, -1.2589) -> (0.8306, -1.0068) projected
  arc A43 (0.8306, -1.0068) -> (1.2711, -1.0068) centre (1.0508, 0.6032) ccw projected
  line L11 (1.2711, -1.0068) -> (1.3056, -1.2589) projected
  arc A44 (1.3056, -1.2589) -> (1.3205, -1.3088) centre (1.5585, -1.2103) ccw projected
  arc A45 (1.3205, -1.3088) -> (1.4221, -1.4816) centre (1.989, -1.0321) ccw projected
  arc A46 (1.4221, -1.4816) -> (1.7731, -1.7902) centre (2.4499, -0.6666) ccw projected
  arc A47 (1.7731, -1.7902) -> (2.2325, -1.5999) centre (1.0508, 0.6032) ccw projected
  arc A48 (2.2325, -1.5999) -> (2.2626, -1.135) centre (0.9594, -1.284) ccw projected
  arc A49 (2.2626, -1.135) -> (2.2137, -0.9433) centre (1.5438, -1.2166) ccw projected
  arc A50 (2.2137, -0.9433) -> (2.1874, -0.8936) centre (1.9742, -1.0381) ccw projected
  line L12 (2.1874, -0.8936) -> (2.0336, -0.691) projected
  arc A51 (2.0336, -0.691) -> (2.345, -0.3796) centre (1.0508, 0.6032) ccw projected
  line L13 (2.345, -0.3796) -> (2.5476, -0.5334) projected
  arc A52 (2.5476, -0.5334) -> (2.5935, -0.5581) centre (2.6921, -0.3202) ccw projected
  arc A53 (2.5935, -0.5581) -> (2.7876, -0.6085) centre (2.8706, 0.1102) ccw projected
  arc A54 (2.7876, -0.6085) -> (3.2539, -0.5785) centre (2.938, 0.6946) ccw projected
  arc A55 (3.2539, -0.5785) -> (3.4442, -0.1191) centre (1.0508, 0.6032) ccw projected
  arc A56 (3.4442, -0.1191) -> (3.1368, 0.231) centre (2.3206, -0.7959) ccw projected
  arc A57 (3.1368, 0.231) -> (2.9666, 0.3319) centre (2.6861, -0.335) ccw projected
  arc A58 (2.9666, 0.3319) -> (2.9129, 0.3484) centre (2.8643, 0.0955) ccw projected
  line L14 (2.9129, 0.3484) -> (2.6608, 0.3829) projected
  arc A59 (2.6608, 0.3829) -> (2.6608, 0.8234) centre (1.0508, 0.6032) ccw projected
  line L15 (2.6608, 0.8234) -> (2.9129, 0.8579) projected
  arc A60 (2.9129, 0.8579) -> (2.9628, 0.8728) centre (2.8643, 1.1108) ccw projected
  arc A61 (2.9628, 0.8728) -> (3.1356, 0.9745) centre (2.6861, 1.5413) ccw projected
  arc A62 (3.1356, 0.9745) -> (3.4442, 1.3254) centre (2.3206, 2.0023) ccw projected
  arc A63 (3.4442, 1.3254) -> (3.2539, 1.7848) centre (1.0508, 0.6032) ccw projected
  circle A64 centre (1.0508, 0.6032) radius 1.15 projected
  circle A65 centre (1.0508, 0.6032) radius 2.5
  point P0 (0, 0)
  point P1 (3.4442, 1.3254)
  point P2 (3.2539, 1.7848)
  point P3 (2.2325, 2.8063)
  point P4 (1.7731, 2.9966)
  point P5 (0.3286, 2.9966)
  point P6 (-0.1308, 2.8063)
  point P7 (-1.1523, 1.7848)
  point P8 (-1.3426, 1.3254)
  point P9 (-1.3426, -0.1191)
  point P10 (-1.1523, -0.5785)
  point P11 (-0.1308, -1.5999)
  point P12 (0.3286, -1.7902)
  point P13 (1.7731, -1.7902)
  point P14 (2.2325, -1.5999)
  point P15 (3.2539, -0.5785)
  point P16 (3.4442, -0.1191)
extrude "押し出し2" add sketch "スケッチ2" along normal blind 8 contours A63 A62 A61 A60 L15 A59 L14 A58 A57 A56 A55 A54 A53 A52 L13 A51 L12 A50 A49 A48 A47 A46 A45 A44 L11 A43 L10 A42 A41 A40 A39 A38 A37 A36 L9 A35 L8 A34 A33 A32 A31 A30 A29 A28 L7 A27 L6 A26 A25 A24 A23 A22 A21 A20 L5 A19 L4 A18 A17 A16 A15 A14 A13 A12 L3 A11 L2 A10 A9 A8 A7 A6 A5 A4 L1 A3 L0 A2 A1 A0 | A0 A1 A2 L0 A3 L1 A4 A5 A6 A65 | A65 A56 A57 A58 L14 A59 L15 A60 A61 A62 | A8 A9 A10 L2 A11 L3 A12 A13 A14 A65 | A65 A48 A49 A50 L12 A51 L13 A52 A53 A54 | A16 A17 A18 L4 A19 L5 A20 A21 A22 A65 | A65 A40 A41 A42 L10 A43 L11 A44 A45 A46 | A24 A25 A26 L6 A27 L7 A28 A29 A30 A65 | A65 A32 A33 A34 L8 A35 L9 A36 A37 A38 | A64
sketch "スケッチ3" plane through (1.0508, 0.6032, 13) normal (0, 0, 1) x (1, 0, 0)
  circle A0 centre (0, 0) radius 1.15
  point P0 (-1.0508, -0.6032)
  dimension "d5" = 2.3
extrude "押し出し3" cut sketch "スケッチ3" against normal blind 13
properties part number "マブチRS-380PHピニオン" material "鋼、炭素鋼"
